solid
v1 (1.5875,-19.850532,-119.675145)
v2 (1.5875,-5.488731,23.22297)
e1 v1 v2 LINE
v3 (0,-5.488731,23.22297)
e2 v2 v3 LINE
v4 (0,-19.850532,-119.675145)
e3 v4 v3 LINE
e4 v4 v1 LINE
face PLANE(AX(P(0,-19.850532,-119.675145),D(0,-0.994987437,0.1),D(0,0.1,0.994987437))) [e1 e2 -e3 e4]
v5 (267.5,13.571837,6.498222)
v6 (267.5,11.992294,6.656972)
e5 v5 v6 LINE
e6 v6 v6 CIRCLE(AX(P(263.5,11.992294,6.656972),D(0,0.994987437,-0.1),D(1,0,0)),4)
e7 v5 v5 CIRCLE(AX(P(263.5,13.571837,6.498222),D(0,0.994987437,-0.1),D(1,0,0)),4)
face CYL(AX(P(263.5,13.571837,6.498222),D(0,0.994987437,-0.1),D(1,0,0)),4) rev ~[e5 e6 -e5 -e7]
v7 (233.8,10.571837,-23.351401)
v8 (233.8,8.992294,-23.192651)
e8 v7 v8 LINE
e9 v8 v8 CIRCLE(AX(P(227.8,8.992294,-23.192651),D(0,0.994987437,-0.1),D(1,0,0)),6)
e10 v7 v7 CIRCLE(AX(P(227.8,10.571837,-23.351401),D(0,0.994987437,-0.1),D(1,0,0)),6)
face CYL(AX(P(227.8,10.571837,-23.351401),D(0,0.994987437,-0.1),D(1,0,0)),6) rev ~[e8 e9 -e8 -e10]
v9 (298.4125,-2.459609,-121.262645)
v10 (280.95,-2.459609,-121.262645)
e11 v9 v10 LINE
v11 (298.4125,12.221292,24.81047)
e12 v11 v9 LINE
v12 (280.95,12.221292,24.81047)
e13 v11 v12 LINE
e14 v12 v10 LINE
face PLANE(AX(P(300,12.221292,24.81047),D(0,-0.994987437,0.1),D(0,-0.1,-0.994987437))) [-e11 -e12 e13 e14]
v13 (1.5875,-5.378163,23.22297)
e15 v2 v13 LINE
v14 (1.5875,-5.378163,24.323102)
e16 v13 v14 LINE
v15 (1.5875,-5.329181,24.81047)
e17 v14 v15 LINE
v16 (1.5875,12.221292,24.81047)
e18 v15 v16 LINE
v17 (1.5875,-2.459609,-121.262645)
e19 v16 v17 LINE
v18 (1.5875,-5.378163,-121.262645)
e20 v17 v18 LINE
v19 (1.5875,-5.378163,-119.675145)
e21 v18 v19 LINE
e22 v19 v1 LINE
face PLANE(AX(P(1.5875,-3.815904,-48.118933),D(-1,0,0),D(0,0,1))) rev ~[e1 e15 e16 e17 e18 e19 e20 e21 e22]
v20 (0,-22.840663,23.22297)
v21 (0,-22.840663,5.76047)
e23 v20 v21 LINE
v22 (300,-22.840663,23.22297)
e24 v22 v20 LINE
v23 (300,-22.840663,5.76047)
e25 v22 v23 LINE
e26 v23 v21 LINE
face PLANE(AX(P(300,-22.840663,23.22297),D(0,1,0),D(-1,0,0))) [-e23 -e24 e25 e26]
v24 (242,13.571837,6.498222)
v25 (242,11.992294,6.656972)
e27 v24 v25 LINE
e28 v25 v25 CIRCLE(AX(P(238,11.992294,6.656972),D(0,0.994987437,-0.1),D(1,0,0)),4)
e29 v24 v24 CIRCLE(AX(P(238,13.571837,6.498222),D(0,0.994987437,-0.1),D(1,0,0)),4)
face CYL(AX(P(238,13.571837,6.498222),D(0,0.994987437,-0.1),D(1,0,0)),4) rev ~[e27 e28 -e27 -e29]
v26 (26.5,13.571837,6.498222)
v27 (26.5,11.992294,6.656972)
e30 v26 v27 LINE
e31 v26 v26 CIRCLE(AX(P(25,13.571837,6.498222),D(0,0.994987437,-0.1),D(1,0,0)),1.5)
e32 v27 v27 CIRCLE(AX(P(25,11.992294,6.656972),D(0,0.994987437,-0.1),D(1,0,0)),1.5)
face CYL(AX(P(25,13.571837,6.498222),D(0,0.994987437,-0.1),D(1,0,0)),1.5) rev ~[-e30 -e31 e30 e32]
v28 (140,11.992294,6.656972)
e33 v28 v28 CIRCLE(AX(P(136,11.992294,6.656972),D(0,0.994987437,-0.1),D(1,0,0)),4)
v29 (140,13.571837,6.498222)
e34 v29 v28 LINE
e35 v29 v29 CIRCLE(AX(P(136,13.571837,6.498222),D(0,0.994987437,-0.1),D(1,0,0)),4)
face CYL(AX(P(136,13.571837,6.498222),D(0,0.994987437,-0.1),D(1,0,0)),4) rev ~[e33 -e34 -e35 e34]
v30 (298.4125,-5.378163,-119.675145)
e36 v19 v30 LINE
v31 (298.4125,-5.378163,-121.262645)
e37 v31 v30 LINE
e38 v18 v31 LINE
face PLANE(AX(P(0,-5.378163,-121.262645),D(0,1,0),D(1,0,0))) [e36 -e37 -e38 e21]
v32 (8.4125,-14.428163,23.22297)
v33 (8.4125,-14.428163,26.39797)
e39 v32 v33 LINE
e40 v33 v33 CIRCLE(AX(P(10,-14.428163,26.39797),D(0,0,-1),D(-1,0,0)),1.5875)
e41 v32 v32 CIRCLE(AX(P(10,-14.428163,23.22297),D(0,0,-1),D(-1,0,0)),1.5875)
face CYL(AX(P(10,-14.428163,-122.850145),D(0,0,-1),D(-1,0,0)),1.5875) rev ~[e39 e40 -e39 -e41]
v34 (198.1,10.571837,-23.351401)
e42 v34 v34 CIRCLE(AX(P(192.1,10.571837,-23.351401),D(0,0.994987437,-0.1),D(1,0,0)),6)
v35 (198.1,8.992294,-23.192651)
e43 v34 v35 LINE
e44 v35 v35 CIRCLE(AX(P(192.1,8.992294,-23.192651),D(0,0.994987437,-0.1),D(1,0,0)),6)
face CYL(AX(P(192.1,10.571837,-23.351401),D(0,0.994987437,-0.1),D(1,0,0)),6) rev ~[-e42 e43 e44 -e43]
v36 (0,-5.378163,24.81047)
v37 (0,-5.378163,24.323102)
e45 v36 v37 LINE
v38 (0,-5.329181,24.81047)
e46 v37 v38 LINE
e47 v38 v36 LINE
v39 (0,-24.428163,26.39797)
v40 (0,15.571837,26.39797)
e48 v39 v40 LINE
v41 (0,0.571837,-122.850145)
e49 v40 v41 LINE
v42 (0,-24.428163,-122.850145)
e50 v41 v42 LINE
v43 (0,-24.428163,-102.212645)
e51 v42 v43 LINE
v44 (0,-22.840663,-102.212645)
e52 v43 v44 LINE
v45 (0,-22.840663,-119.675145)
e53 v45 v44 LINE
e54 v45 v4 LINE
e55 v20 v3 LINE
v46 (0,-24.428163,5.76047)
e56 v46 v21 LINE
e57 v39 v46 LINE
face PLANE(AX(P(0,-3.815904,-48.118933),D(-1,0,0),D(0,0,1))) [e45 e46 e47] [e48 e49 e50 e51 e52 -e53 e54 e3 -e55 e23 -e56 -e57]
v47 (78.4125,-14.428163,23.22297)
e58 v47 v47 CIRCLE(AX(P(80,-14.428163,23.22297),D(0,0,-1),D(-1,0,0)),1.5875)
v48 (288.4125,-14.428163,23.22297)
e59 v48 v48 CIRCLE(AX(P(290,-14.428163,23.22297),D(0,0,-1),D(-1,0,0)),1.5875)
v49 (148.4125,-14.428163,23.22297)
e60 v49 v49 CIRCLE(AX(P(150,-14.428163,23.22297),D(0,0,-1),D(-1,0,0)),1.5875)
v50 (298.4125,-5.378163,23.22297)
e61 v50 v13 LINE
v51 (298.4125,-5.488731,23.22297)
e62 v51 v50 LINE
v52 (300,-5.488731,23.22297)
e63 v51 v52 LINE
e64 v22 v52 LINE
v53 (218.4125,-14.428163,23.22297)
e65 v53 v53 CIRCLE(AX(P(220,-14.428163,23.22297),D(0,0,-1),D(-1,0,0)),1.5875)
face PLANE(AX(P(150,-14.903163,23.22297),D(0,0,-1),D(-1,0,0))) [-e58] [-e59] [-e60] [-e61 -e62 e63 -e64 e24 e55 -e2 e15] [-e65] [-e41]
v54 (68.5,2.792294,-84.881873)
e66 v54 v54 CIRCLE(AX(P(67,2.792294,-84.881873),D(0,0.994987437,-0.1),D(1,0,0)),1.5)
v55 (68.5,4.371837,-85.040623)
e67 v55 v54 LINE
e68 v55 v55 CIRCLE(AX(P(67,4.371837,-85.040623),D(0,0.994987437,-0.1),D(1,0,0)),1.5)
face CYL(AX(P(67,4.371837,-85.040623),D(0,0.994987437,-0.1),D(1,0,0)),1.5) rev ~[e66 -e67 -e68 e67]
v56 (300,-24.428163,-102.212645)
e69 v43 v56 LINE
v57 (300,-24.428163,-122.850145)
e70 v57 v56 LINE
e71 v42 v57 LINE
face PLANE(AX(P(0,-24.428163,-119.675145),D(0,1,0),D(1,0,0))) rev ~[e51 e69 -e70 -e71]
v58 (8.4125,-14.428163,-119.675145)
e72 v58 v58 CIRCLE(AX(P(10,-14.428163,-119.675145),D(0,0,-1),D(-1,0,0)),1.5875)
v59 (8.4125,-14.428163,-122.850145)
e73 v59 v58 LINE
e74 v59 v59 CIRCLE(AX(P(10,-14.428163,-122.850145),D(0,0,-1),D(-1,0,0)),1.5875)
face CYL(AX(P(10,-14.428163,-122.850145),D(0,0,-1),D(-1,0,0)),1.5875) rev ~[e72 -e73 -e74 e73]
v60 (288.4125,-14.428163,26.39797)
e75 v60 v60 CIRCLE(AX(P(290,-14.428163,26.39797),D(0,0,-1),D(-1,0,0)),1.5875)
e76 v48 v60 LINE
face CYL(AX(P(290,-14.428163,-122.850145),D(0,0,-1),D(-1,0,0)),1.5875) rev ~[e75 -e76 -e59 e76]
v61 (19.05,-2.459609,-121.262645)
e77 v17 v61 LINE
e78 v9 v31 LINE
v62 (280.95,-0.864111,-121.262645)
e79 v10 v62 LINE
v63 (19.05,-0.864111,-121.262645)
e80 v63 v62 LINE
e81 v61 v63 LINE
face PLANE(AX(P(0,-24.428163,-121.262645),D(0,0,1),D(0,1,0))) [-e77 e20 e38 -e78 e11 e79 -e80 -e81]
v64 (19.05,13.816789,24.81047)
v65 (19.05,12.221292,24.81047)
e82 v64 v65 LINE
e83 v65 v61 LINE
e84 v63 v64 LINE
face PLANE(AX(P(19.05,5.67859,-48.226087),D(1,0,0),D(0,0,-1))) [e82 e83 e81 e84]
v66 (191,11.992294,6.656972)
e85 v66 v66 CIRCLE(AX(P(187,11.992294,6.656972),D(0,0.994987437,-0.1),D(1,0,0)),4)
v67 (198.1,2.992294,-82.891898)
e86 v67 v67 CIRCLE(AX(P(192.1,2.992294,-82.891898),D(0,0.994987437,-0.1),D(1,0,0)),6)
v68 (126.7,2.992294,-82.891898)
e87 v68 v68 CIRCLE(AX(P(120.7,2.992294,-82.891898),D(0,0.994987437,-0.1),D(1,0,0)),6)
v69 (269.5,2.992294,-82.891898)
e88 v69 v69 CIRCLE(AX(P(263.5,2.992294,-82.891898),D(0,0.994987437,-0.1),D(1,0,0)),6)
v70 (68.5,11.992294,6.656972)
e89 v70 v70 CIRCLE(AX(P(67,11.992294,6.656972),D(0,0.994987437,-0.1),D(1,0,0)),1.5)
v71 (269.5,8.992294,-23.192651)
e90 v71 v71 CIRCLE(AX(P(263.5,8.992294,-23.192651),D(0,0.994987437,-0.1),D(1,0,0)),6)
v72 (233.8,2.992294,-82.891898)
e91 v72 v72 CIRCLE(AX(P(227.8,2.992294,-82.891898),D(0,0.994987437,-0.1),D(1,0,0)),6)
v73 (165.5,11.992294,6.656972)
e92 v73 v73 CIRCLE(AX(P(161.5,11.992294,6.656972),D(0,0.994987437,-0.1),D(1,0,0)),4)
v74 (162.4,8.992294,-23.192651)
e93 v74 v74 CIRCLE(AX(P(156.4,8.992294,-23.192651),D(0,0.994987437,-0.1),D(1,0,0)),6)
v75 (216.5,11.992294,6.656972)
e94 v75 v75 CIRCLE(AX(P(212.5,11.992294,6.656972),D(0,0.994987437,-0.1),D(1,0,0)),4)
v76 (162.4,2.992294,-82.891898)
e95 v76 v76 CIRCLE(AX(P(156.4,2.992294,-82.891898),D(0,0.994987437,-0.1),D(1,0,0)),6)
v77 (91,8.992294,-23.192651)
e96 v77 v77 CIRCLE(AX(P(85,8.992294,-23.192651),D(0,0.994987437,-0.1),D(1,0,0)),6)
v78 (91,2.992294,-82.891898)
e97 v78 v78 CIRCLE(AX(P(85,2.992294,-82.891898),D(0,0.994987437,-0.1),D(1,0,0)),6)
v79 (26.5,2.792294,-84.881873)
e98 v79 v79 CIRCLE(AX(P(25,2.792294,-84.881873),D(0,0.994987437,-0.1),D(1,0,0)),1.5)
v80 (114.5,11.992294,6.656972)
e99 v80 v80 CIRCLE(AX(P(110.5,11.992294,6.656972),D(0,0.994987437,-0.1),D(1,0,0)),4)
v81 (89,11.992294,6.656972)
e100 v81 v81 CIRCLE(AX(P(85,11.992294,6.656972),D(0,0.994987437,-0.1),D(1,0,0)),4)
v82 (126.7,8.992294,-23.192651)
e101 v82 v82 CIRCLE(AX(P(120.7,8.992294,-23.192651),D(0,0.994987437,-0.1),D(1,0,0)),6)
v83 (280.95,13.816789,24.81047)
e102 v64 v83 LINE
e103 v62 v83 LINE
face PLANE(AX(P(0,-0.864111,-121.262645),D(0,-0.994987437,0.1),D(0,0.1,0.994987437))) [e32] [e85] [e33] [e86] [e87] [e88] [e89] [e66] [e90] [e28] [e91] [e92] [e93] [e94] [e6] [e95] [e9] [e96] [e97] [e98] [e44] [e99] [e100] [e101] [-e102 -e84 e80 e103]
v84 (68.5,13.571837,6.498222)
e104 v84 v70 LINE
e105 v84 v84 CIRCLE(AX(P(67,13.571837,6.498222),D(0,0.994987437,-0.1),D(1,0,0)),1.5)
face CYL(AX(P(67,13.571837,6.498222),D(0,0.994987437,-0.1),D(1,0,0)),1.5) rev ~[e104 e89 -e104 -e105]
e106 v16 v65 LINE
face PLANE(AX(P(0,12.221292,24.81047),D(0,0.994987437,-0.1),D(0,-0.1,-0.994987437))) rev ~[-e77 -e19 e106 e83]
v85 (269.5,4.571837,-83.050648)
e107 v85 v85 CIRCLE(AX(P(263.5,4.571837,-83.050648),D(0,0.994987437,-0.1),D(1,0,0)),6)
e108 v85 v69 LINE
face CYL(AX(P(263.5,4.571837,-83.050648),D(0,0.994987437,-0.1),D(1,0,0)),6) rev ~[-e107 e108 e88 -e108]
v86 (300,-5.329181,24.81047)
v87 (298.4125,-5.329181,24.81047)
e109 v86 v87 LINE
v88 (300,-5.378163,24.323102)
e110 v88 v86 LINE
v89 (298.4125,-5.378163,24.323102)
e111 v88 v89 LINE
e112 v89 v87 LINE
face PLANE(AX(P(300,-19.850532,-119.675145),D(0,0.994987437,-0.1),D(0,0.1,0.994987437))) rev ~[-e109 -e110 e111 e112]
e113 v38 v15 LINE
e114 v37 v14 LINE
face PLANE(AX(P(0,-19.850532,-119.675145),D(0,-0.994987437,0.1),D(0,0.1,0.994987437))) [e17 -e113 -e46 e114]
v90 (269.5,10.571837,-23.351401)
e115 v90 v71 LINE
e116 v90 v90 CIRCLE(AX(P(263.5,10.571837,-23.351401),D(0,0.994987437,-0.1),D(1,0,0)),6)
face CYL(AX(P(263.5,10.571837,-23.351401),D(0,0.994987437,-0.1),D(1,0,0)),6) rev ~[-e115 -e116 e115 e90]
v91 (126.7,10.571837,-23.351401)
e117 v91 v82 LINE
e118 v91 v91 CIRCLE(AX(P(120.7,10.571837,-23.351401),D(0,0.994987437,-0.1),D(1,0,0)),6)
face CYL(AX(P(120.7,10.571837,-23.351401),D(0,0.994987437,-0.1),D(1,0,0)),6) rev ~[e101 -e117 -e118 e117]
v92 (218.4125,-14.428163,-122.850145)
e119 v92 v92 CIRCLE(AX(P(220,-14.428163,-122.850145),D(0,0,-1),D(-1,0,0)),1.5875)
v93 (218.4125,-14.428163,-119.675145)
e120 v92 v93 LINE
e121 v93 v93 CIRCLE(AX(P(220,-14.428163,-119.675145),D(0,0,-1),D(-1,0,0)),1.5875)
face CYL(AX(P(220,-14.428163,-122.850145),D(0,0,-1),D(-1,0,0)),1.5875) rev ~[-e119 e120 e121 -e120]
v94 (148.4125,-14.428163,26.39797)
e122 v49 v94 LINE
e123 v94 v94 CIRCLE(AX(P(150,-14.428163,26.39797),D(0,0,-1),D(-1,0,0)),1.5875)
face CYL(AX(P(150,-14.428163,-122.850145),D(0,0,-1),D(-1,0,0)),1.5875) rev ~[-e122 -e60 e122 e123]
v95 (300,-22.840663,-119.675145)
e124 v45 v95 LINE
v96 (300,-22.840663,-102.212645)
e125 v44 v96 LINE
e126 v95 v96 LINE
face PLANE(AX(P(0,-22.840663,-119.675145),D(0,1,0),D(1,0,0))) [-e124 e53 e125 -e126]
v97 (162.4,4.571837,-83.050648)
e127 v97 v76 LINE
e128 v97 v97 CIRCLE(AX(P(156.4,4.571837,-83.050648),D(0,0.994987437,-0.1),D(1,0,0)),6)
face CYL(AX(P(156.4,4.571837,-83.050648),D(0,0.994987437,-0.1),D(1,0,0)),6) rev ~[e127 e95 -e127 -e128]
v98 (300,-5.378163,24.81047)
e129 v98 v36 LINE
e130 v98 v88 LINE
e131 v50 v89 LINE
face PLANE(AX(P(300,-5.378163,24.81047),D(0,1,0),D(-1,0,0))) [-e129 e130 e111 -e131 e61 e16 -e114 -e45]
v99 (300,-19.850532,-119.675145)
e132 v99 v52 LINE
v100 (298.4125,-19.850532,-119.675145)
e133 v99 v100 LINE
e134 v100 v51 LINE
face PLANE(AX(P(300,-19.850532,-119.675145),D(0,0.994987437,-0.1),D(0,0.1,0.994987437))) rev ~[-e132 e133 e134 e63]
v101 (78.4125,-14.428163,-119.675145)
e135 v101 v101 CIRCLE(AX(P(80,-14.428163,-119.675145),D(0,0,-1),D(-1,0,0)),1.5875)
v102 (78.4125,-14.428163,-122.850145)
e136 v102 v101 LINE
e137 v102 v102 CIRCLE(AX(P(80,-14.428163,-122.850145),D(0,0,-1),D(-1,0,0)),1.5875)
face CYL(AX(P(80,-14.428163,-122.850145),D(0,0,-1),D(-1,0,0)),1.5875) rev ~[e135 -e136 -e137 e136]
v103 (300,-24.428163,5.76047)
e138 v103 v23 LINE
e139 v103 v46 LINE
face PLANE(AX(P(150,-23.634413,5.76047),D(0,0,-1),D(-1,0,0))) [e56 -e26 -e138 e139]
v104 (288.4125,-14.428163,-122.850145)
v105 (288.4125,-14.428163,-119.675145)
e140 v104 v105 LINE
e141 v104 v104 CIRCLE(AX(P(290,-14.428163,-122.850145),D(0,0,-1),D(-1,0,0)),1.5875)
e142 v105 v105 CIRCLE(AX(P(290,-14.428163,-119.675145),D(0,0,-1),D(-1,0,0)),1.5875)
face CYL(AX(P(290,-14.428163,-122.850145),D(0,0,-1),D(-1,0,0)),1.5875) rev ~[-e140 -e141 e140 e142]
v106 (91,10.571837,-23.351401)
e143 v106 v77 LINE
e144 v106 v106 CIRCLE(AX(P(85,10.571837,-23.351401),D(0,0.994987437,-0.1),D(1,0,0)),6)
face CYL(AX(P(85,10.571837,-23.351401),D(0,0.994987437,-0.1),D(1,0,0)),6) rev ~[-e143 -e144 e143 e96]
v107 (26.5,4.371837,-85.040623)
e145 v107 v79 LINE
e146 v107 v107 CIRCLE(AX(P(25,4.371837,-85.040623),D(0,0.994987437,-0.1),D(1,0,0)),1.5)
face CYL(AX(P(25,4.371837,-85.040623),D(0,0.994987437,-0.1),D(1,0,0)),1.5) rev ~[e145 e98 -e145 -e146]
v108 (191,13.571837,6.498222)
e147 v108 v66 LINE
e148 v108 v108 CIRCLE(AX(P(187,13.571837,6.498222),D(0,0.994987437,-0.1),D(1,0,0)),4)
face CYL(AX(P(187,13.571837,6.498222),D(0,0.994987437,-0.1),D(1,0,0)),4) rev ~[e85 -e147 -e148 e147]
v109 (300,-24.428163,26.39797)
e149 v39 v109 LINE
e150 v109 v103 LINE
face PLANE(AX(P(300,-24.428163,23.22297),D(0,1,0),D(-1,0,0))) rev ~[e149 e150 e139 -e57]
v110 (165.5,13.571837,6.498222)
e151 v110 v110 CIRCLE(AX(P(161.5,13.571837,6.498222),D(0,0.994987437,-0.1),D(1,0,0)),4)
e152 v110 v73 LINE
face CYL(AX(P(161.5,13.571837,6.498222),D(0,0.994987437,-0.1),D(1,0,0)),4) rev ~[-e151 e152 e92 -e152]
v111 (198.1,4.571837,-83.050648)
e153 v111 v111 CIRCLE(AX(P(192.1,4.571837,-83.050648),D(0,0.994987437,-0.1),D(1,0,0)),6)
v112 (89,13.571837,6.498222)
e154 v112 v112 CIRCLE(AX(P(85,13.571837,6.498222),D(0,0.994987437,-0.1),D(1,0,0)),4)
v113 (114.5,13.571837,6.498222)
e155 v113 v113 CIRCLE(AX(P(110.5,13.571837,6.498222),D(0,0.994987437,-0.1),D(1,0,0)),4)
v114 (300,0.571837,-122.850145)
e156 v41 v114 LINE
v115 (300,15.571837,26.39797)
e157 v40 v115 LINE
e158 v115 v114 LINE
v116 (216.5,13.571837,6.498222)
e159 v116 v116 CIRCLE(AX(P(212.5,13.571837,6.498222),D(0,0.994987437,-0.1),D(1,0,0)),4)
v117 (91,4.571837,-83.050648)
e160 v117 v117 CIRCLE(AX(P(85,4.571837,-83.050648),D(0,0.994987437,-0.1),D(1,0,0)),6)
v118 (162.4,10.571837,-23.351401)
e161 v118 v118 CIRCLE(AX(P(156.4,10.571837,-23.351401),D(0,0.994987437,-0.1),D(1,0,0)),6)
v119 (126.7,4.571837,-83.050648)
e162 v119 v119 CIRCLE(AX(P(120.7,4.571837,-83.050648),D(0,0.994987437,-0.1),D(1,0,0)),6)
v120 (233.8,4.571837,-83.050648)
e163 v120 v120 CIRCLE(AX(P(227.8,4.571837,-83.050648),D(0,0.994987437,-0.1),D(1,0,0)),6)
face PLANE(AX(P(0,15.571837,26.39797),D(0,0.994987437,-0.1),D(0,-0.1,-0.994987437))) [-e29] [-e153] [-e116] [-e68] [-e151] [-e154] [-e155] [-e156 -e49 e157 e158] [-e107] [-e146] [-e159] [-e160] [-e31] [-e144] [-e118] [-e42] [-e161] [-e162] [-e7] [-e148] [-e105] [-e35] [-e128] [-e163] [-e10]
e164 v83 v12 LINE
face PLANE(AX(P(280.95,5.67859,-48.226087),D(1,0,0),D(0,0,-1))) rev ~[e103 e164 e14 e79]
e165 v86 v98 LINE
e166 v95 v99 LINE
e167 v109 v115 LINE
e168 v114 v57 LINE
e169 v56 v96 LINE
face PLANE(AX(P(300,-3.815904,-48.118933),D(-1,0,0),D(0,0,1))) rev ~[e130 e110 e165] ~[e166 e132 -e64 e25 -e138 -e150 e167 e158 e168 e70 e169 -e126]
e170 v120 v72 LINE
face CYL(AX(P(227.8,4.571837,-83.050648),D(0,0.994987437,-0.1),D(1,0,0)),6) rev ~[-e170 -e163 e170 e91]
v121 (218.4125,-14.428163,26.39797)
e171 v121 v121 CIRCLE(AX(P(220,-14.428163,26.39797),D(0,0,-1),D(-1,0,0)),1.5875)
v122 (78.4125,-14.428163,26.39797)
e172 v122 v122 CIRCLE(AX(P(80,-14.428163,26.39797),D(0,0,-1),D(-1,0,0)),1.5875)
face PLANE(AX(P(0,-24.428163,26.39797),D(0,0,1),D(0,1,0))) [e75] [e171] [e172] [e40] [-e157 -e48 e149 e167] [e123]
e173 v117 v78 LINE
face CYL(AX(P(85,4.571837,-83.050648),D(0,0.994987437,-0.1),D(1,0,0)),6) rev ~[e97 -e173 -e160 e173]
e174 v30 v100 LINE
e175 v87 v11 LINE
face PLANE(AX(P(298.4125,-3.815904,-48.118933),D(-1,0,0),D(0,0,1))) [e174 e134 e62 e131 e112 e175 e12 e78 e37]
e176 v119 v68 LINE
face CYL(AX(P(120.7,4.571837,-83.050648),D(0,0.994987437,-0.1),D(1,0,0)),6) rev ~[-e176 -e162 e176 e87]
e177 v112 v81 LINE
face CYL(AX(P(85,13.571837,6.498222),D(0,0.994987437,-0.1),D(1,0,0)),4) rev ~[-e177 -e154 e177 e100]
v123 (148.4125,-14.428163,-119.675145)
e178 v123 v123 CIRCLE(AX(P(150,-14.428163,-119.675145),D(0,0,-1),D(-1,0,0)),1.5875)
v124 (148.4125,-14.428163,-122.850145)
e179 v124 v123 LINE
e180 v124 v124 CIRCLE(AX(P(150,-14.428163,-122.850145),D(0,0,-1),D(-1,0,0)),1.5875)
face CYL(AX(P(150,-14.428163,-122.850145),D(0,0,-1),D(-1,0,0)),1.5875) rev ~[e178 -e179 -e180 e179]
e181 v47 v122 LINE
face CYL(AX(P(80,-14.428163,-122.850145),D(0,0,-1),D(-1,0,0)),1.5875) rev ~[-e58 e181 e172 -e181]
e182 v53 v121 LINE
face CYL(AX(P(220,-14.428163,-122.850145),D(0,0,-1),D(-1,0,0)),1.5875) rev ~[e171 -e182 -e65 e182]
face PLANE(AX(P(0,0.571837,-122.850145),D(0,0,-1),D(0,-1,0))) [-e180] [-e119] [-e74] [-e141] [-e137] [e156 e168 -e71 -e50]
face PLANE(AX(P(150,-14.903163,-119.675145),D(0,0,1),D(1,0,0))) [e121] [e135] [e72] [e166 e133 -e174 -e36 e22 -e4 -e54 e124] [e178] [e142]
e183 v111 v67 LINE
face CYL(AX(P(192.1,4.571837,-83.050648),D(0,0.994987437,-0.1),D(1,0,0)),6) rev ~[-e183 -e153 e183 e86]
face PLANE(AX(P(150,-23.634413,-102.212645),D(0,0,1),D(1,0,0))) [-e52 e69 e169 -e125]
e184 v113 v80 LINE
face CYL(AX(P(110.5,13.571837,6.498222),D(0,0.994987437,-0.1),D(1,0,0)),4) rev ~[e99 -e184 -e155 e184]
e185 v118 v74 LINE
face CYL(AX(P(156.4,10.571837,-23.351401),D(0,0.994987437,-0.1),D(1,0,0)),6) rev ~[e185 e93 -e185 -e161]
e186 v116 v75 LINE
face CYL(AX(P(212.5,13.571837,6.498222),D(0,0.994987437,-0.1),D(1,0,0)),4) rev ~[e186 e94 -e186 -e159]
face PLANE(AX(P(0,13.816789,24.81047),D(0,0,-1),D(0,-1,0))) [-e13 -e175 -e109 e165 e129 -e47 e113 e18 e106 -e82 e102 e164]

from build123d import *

# Parameters (mm, degrees)
BOSS_EXTRU_1_DEPTH      = 300
ESQUISSE3_W             = 300
ESQUISSE3_H             = 19.05
BOSS_EXTRU_2_DEPTH      = 1.5875
ESQUISSE4_W             = 300
ESQUISSE4_H             = 1.5875
BOSS_EXTRU_3_DEPTH      = 17.4625
ESQUISSE5_W             = 300
ESQUISSE5_H             = 19.05
BOSS_EXTRU_4_DEPTH      = 1.5875
ESQUISSE6_W             = 300
ESQUISSE6_H             = 1.5875
BOSS_EXTRU_5_DEPTH      = 17.4625
BOSS_EXTRU_6_DEPTH      = 19.05
BOSS_EXTRU_7_DEPTH      = 1.5875
BOSS_EXTRU_8_DEPTH      = 19.05
BOSS_EXTRU_9_DEPTH      = 1.5875
ESQUISSE12_R            = 1.5875
ENL_V_MAT_EXTRU_1_DEPTH = 150.248115566
ENL_V_MAT_EXTRU_2_REACH = 41.799
ESQUISSE13_R            = 4
ESQUISSE13_R_2          = 6
ESQUISSE13_R_3          = 1.5


with BuildPart() as part:
    # Esquisse1 → Boss.-Extru.1 (new body)
    with BuildSketch(Plane(origin=(0, 0, 0), x_dir=(0, 0, -1), z_dir=(1, 0, 0))):
        Polygon((-26.397970452, -24.428163497), (-26.397970452, 15.571836503), (122.850145114, 0.571836503), (122.850145114, -24.428163497), (121.262645114, -24.428163497), (121.262645114, -0.864111276), (-24.810470452, 13.816789218), (-24.810470452, -24.428163497), align=None)
    extrude(amount=BOSS_EXTRU_1_DEPTH)

    # Esquisse3 → Boss.-Extru.2 (add)
    with BuildSketch(Plane(origin=(0, 0, 24.810470452), x_dir=(-1, 0, 0), z_dir=(0, 0, -1))):
        with Locations((-150, -14.903163497)):
            Rectangle(ESQUISSE3_W, ESQUISSE3_H)
    extrude(amount=BOSS_EXTRU_2_DEPTH)

    # Esquisse4 → Boss.-Extru.3 (add)
    with BuildSketch(Plane(origin=(0, 0, 23.222970452), x_dir=(-1, 0, 0), z_dir=(0, 0, -1))):
        with Locations((-150, -23.634413497)):
            Rectangle(ESQUISSE4_W, ESQUISSE4_H)
    extrude(amount=BOSS_EXTRU_3_DEPTH)

    # Esquisse5 → Boss.-Extru.4 (add)
    with BuildSketch(Plane.XY.offset(-121.262645114)):
        with Locations((150, -14.903163497)):
            Rectangle(ESQUISSE5_W, ESQUISSE5_H)
    extrude(amount=BOSS_EXTRU_4_DEPTH)

    # Esquisse6 → Boss.-Extru.5 (add)
    with BuildSketch(Plane.XY.offset(-119.675145114)):
        with Locations((150, -23.634413497)):
            Rectangle(ESQUISSE6_W, ESQUISSE6_H)
    extrude(amount=BOSS_EXTRU_5_DEPTH)

    # Esquisse7 → Boss.-Extru.6 (add)
    with BuildSketch(Plane(origin=(300, 0, 0), x_dir=(0, 0, -1), z_dir=(1, 0, 0))):
        Polygon((-24.810470452, 13.816789218), (-24.810470452, 12.221291686), (121.262645114, -2.459608808), (121.262645114, -0.864111276), align=None)
    extrude(amount=-BOSS_EXTRU_6_DEPTH)

    # Esquisse8 → Boss.-Extru.7 (add)
    with BuildSketch(Plane(origin=(300, 0, 0), x_dir=(0, 0, -1), z_dir=(1, 0, 0))):
        Polygon((-24.810470452, 12.221291686), (121.262645114, -2.459608808), (121.262645114, -5.378163497), (119.675145114, -5.378163497), (119.675145114, -19.850531903), (-24.810470452, -5.329181163), align=None)
    extrude(amount=-BOSS_EXTRU_7_DEPTH)



with BuildPart() as body_2:
    # Esquisse9 → Boss.-Extru.8 (new body)
    with BuildSketch(Plane.ZY):
        Polygon((-121.262645114, -0.864111276), (24.810470452, 13.816789218), (24.810470452, 12.221291686), (-121.262645114, -2.459608808), align=None)
    extrude(amount=-BOSS_EXTRU_8_DEPTH)


with BuildPart() as part_1:
    add(part.part)

    add(body_2.part)  # Boss.-Extru.9 merges body 2
    # Esquisse11 → Boss.-Extru.9 (add)
    with BuildSketch(Plane.ZY):
        Polygon((-121.262645114, -2.459608808), (-121.262645114, -5.378163497), (-119.675145114, -5.378163497), (-119.675145114, -19.850531903), (24.810470452, -5.329181163), (24.810470452, 12.221291686), align=None)
    extrude(amount=-BOSS_EXTRU_9_DEPTH)

    # Esquisse12 → Enlèv. mat.-Extru.1 (cut, through all)
    with BuildSketch(Plane(origin=(0, 0, -122.850145114), x_dir=(-1, 0, 0), z_dir=(0, 0, -1))):
        with Locations((-290, -14.428163497)):
            Circle(ESQUISSE12_R)
        with Locations((-150, -14.428163497)):
            Circle(ESQUISSE12_R)
        with Locations((-10, -14.428163497)):
            Circle(ESQUISSE12_R)
        with Locations((-220, -14.428163497)):
            Circle(ESQUISSE12_R)
        with Locations((-80, -14.428163497)):
            Circle(ESQUISSE12_R)
    extrude(amount=-ENL_V_MAT_EXTRU_1_DEPTH, mode=Mode.SUBTRACT)

    # Esquisse13 → Enlèv. mat.-Extru.2 (cut, up to next)
    with BuildSketch(Plane(origin=(0, 12.789553241, -1.285398465), x_dir=(1, 0, 0), z_dir=(0, 0.994987437, -0.1)), mode=Mode.PRIVATE) as enl_v_mat_extru_2_sk1:
        with Locations((263.5, -7.822832615)):
            Circle(ESQUISSE13_R)
    enl_v_mat_extru_2_tool1 = extrude(enl_v_mat_extru_2_sk1.sketch, amount=-ENL_V_MAT_EXTRU_2_REACH, mode=Mode.PRIVATE) & part_1.part
    add(enl_v_mat_extru_2_tool1.solids().sort_by_distance((263.5, 13.571837, 6.498222))[0], mode=Mode.SUBTRACT)
    # Esquisse13 → Enlèv. mat.-Extru.2 (cut, up to next)
    with BuildSketch(Plane(origin=(0, 12.789553241, -1.285398465), x_dir=(1, 0, 0), z_dir=(0, 0.994987437, -0.1)), mode=Mode.PRIVATE) as enl_v_mat_extru_2_sk2:
        with Locations((238, -7.822832615)):
            Circle(ESQUISSE13_R)
    enl_v_mat_extru_2_tool2 = extrude(enl_v_mat_extru_2_sk2.sketch, amount=-ENL_V_MAT_EXTRU_2_REACH, mode=Mode.PRIVATE) & part_1.part
    add(enl_v_mat_extru_2_tool2.solids().sort_by_distance((238, 13.571837, 6.498222))[0], mode=Mode.SUBTRACT)
    # Esquisse13 → Enlèv. mat.-Extru.2 (cut, up to next)
    with BuildSketch(Plane(origin=(0, 12.789553241, -1.285398465), x_dir=(1, 0, 0), z_dir=(0, 0.994987437, -0.1)), mode=Mode.PRIVATE) as enl_v_mat_extru_2_sk3:
        with Locations((212.5, -7.822832615)):
            Circle(ESQUISSE13_R)
    enl_v_mat_extru_2_tool3 = extrude(enl_v_mat_extru_2_sk3.sketch, amount=-ENL_V_MAT_EXTRU_2_REACH, mode=Mode.PRIVATE) & part_1.part
    add(enl_v_mat_extru_2_tool3.solids().sort_by_distance((212.5, 13.571837, 6.498222))[0], mode=Mode.SUBTRACT)
    # Esquisse13 → Enlèv. mat.-Extru.2 (cut, up to next)
    with BuildSketch(Plane(origin=(0, 12.789553241, -1.285398465), x_dir=(1, 0, 0), z_dir=(0, 0.994987437, -0.1)), mode=Mode.PRIVATE) as enl_v_mat_extru_2_sk4:
        with Locations((187, -7.822832615)):
            Circle(ESQUISSE13_R)
    enl_v_mat_extru_2_tool4 = extrude(enl_v_mat_extru_2_sk4.sketch, amount=-ENL_V_MAT_EXTRU_2_REACH, mode=Mode.PRIVATE) & part_1.part
    add(enl_v_mat_extru_2_tool4.solids().sort_by_distance((187, 13.571837, 6.498222))[0], mode=Mode.SUBTRACT)
    # Esquisse13 → Enlèv. mat.-Extru.2 (cut, up to next)
    with BuildSketch(Plane(origin=(0, 12.789553241, -1.285398465), x_dir=(1, 0, 0), z_dir=(0, 0.994987437, -0.1)), mode=Mode.PRIVATE) as enl_v_mat_extru_2_sk5:
        with Locations((161.5, -7.822832615)):
            Circle(ESQUISSE13_R)
    enl_v_mat_extru_2_tool5 = extrude(enl_v_mat_extru_2_sk5.sketch, amount=-ENL_V_MAT_EXTRU_2_REACH, mode=Mode.PRIVATE) & part_1.part
    add(enl_v_mat_extru_2_tool5.solids().sort_by_distance((161.5, 13.571837, 6.498222))[0], mode=Mode.SUBTRACT)
    # Esquisse13 → Enlèv. mat.-Extru.2 (cut, up to next)
    with BuildSketch(Plane(origin=(0, 12.789553241, -1.285398465), x_dir=(1, 0, 0), z_dir=(0, 0.994987437, -0.1)), mode=Mode.PRIVATE) as enl_v_mat_extru_2_sk6:
        with Locations((136, -7.822832615)):
            Circle(ESQUISSE13_R)
    enl_v_mat_extru_2_tool6 = extrude(enl_v_mat_extru_2_sk6.sketch, amount=-ENL_V_MAT_EXTRU_2_REACH, mode=Mode.PRIVATE) & part_1.part
    add(enl_v_mat_extru_2_tool6.solids().sort_by_distance((136, 13.571837, 6.498222))[0], mode=Mode.SUBTRACT)
    # Esquisse13 → Enlèv. mat.-Extru.2 (cut, up to next)
    with BuildSketch(Plane(origin=(0, 12.789553241, -1.285398465), x_dir=(1, 0, 0), z_dir=(0, 0.994987437, -0.1)), mode=Mode.PRIVATE) as enl_v_mat_extru_2_sk7:
        with Locations((110.5, -7.822832615)):
            Circle(ESQUISSE13_R)
    enl_v_mat_extru_2_tool7 = extrude(enl_v_mat_extru_2_sk7.sketch, amount=-ENL_V_MAT_EXTRU_2_REACH, mode=Mode.PRIVATE) & part_1.part
    add(enl_v_mat_extru_2_tool7.solids().sort_by_distance((110.5, 13.571837, 6.498222))[0], mode=Mode.SUBTRACT)
    # Esquisse13 → Enlèv. mat.-Extru.2 (cut, up to next)
    with BuildSketch(Plane(origin=(0, 12.789553241, -1.285398465), x_dir=(1, 0, 0), z_dir=(0, 0.994987437, -0.1)), mode=Mode.PRIVATE) as enl_v_mat_extru_2_sk8:
        with Locations((85, -7.822832615)):
            Circle(ESQUISSE13_R)
    enl_v_mat_extru_2_tool8 = extrude(enl_v_mat_extru_2_sk8.sketch, amount=-ENL_V_MAT_EXTRU_2_REACH, mode=Mode.PRIVATE) & part_1.part
    add(enl_v_mat_extru_2_tool8.solids().sort_by_distance((85, 13.571837, 6.498222))[0], mode=Mode.SUBTRACT)
    # Esquisse13 → Enlèv. mat.-Extru.2 (cut, up to next)
    with BuildSketch(Plane(origin=(0, 12.789553241, -1.285398465), x_dir=(1, 0, 0), z_dir=(0, 0.994987437, -0.1)), mode=Mode.PRIVATE) as enl_v_mat_extru_2_sk9:
        with Locations((263.5, 22.177167385)):
            Circle(ESQUISSE13_R_2)
    enl_v_mat_extru_2_tool9 = extrude(enl_v_mat_extru_2_sk9.sketch, amount=-ENL_V_MAT_EXTRU_2_REACH, mode=Mode.PRIVATE) & part_1.part
    add(enl_v_mat_extru_2_tool9.solids().sort_by_distance((263.5, 10.571837, -23.351401))[0], mode=Mode.SUBTRACT)
    # Esquisse13 → Enlèv. mat.-Extru.2 (cut, up to next)
    with BuildSketch(Plane(origin=(0, 12.789553241, -1.285398465), x_dir=(1, 0, 0), z_dir=(0, 0.994987437, -0.1)), mode=Mode.PRIVATE) as enl_v_mat_extru_2_sk10:
        with Locations((227.8, 22.177167385)):
            Circle(ESQUISSE13_R_2)
    enl_v_mat_extru_2_tool10 = extrude(enl_v_mat_extru_2_sk10.sketch, amount=-ENL_V_MAT_EXTRU_2_REACH, mode=Mode.PRIVATE) & part_1.part
    add(enl_v_mat_extru_2_tool10.solids().sort_by_distance((227.8, 10.571837, -23.351401))[0], mode=Mode.SUBTRACT)
    # Esquisse13 → Enlèv. mat.-Extru.2 (cut, up to next)
    with BuildSketch(Plane(origin=(0, 12.789553241, -1.285398465), x_dir=(1, 0, 0), z_dir=(0, 0.994987437, -0.1)), mode=Mode.PRIVATE) as enl_v_mat_extru_2_sk11:
        with Locations((192.1, 22.177167385)):
            Circle(ESQUISSE13_R_2)
    enl_v_mat_extru_2_tool11 = extrude(enl_v_mat_extru_2_sk11.sketch, amount=-ENL_V_MAT_EXTRU_2_REACH, mode=Mode.PRIVATE) & part_1.part
    add(enl_v_mat_extru_2_tool11.solids().sort_by_distance((192.1, 10.571837, -23.351401))[0], mode=Mode.SUBTRACT)
    # Esquisse13 → Enlèv. mat.-Extru.2 (cut, up to next)
    with BuildSketch(Plane(origin=(0, 12.789553241, -1.285398465), x_dir=(1, 0, 0), z_dir=(0, 0.994987437, -0.1)), mode=Mode.PRIVATE) as enl_v_mat_extru_2_sk12:
        with Locations((156.4, 22.177167385)):
            Circle(ESQUISSE13_R_2)
    enl_v_mat_extru_2_tool12 = extrude(enl_v_mat_extru_2_sk12.sketch, amount=-ENL_V_MAT_EXTRU_2_REACH, mode=Mode.PRIVATE) & part_1.part
    add(enl_v_mat_extru_2_tool12.solids().sort_by_distance((156.4, 10.571837, -23.351401))[0], mode=Mode.SUBTRACT)
    # Esquisse13 → Enlèv. mat.-Extru.2 (cut, up to next)
    with BuildSketch(Plane(origin=(0, 12.789553241, -1.285398465), x_dir=(1, 0, 0), z_dir=(0, 0.994987437, -0.1)), mode=Mode.PRIVATE) as enl_v_mat_extru_2_sk13:
        with Locations((120.7, 22.177167385)):
            Circle(ESQUISSE13_R_2)
    enl_v_mat_extru_2_tool13 = extrude(enl_v_mat_extru_2_sk13.sketch, amount=-ENL_V_MAT_EXTRU_2_REACH, mode=Mode.PRIVATE) & part_1.part
    add(enl_v_mat_extru_2_tool13.solids().sort_by_distance((120.7, 10.571837, -23.351401))[0], mode=Mode.SUBTRACT)
    # Esquisse13 → Enlèv. mat.-Extru.2 (cut, up to next)
    with BuildSketch(Plane(origin=(0, 12.789553241, -1.285398465), x_dir=(1, 0, 0), z_dir=(0, 0.994987437, -0.1)), mode=Mode.PRIVATE) as enl_v_mat_extru_2_sk14:
        with Locations((85, 22.177167385)):
            Circle(ESQUISSE13_R_2)
    enl_v_mat_extru_2_tool14 = extrude(enl_v_mat_extru_2_sk14.sketch, amount=-ENL_V_MAT_EXTRU_2_REACH, mode=Mode.PRIVATE) & part_1.part
    add(enl_v_mat_extru_2_tool14.solids().sort_by_distance((85, 10.571837, -23.351401))[0], mode=Mode.SUBTRACT)
    # Esquisse13 → Enlèv. mat.-Extru.2 (cut, up to next)
    with BuildSketch(Plane(origin=(0, 12.789553241, -1.285398465), x_dir=(1, 0, 0), z_dir=(0, 0.994987437, -0.1)), mode=Mode.PRIVATE) as enl_v_mat_extru_2_sk15:
        with Locations((227.8, 82.177167385)):
            Circle(ESQUISSE13_R_2)
    enl_v_mat_extru_2_tool15 = extrude(enl_v_mat_extru_2_sk15.sketch, amount=-ENL_V_MAT_EXTRU_2_REACH, mode=Mode.PRIVATE) & part_1.part
    add(enl_v_mat_extru_2_tool15.solids().sort_by_distance((227.8, 4.571837, -83.050648))[0], mode=Mode.SUBTRACT)
    # Esquisse13 → Enlèv. mat.-Extru.2 (cut, up to next)
    with BuildSketch(Plane(origin=(0, 12.789553241, -1.285398465), x_dir=(1, 0, 0), z_dir=(0, 0.994987437, -0.1)), mode=Mode.PRIVATE) as enl_v_mat_extru_2_sk16:
        with Locations((192.1, 82.177167385)):
            Circle(ESQUISSE13_R_2)
    enl_v_mat_extru_2_tool16 = extrude(enl_v_mat_extru_2_sk16.sketch, amount=-ENL_V_MAT_EXTRU_2_REACH, mode=Mode.PRIVATE) & part_1.part
    add(enl_v_mat_extru_2_tool16.solids().sort_by_distance((192.1, 4.571837, -83.050648))[0], mode=Mode.SUBTRACT)
    # Esquisse13 → Enlèv. mat.-Extru.2 (cut, up to next)
    with BuildSketch(Plane(origin=(0, 12.789553241, -1.285398465), x_dir=(1, 0, 0), z_dir=(0, 0.994987437, -0.1)), mode=Mode.PRIVATE) as enl_v_mat_extru_2_sk17:
        with Locations((156.4, 82.177167385)):
            Circle(ESQUISSE13_R_2)
    enl_v_mat_extru_2_tool17 = extrude(enl_v_mat_extru_2_sk17.sketch, amount=-ENL_V_MAT_EXTRU_2_REACH, mode=Mode.PRIVATE) & part_1.part
    add(enl_v_mat_extru_2_tool17.solids().sort_by_distance((156.4, 4.571837, -83.050648))[0], mode=Mode.SUBTRACT)
    # Esquisse13 → Enlèv. mat.-Extru.2 (cut, up to next)
    with BuildSketch(Plane(origin=(0, 12.789553241, -1.285398465), x_dir=(1, 0, 0), z_dir=(0, 0.994987437, -0.1)), mode=Mode.PRIVATE) as enl_v_mat_extru_2_sk18:
        with Locations((120.7, 82.177167385)):
            Circle(ESQUISSE13_R_2)
    enl_v_mat_extru_2_tool18 = extrude(enl_v_mat_extru_2_sk18.sketch, amount=-ENL_V_MAT_EXTRU_2_REACH, mode=Mode.PRIVATE) & part_1.part
    add(enl_v_mat_extru_2_tool18.solids().sort_by_distance((120.7, 4.571837, -83.050648))[0], mode=Mode.SUBTRACT)
    # Esquisse13 → Enlèv. mat.-Extru.2 (cut, up to next)
    with BuildSketch(Plane(origin=(0, 12.789553241, -1.285398465), x_dir=(1, 0, 0), z_dir=(0, 0.994987437, -0.1)), mode=Mode.PRIVATE) as enl_v_mat_extru_2_sk19:
        with Locations((85, 82.177167385)):
            Circle(ESQUISSE13_R_2)
    enl_v_mat_extru_2_tool19 = extrude(enl_v_mat_extru_2_sk19.sketch, amount=-ENL_V_MAT_EXTRU_2_REACH, mode=Mode.PRIVATE) & part_1.part
    add(enl_v_mat_extru_2_tool19.solids().sort_by_distance((85, 4.571837, -83.050648))[0], mode=Mode.SUBTRACT)
    # Esquisse13 → Enlèv. mat.-Extru.2 (cut, up to next)
    with BuildSketch(Plane(origin=(0, 12.789553241, -1.285398465), x_dir=(1, 0, 0), z_dir=(0, 0.994987437, -0.1)), mode=Mode.PRIVATE) as enl_v_mat_extru_2_sk20:
        with Locations((263.5, 82.177167385)):
            Circle(ESQUISSE13_R_2)
    enl_v_mat_extru_2_tool20 = extrude(enl_v_mat_extru_2_sk20.sketch, amount=-ENL_V_MAT_EXTRU_2_REACH, mode=Mode.PRIVATE) & part_1.part
    add(enl_v_mat_extru_2_tool20.solids().sort_by_distance((263.5, 4.571837, -83.050648))[0], mode=Mode.SUBTRACT)
    # Esquisse13 → Enlèv. mat.-Extru.2 (cut, up to next)
    with BuildSketch(Plane(origin=(0, 12.789553241, -1.285398465), x_dir=(1, 0, 0), z_dir=(0, 0.994987437, -0.1)), mode=Mode.PRIVATE) as enl_v_mat_extru_2_sk21:
        with Locations((67, -7.822832615)):
            Circle(ESQUISSE13_R_3)
    enl_v_mat_extru_2_tool21 = extrude(enl_v_mat_extru_2_sk21.sketch, amount=-ENL_V_MAT_EXTRU_2_REACH, mode=Mode.PRIVATE) & part_1.part
    add(enl_v_mat_extru_2_tool21.solids().sort_by_distance((67, 13.571837, 6.498222))[0], mode=Mode.SUBTRACT)
    # Esquisse13 → Enlèv. mat.-Extru.2 (cut, up to next)
    with BuildSketch(Plane(origin=(0, 12.789553241, -1.285398465), x_dir=(1, 0, 0), z_dir=(0, 0.994987437, -0.1)), mode=Mode.PRIVATE) as enl_v_mat_extru_2_sk22:
        with Locations((25, -7.822832615)):
            Circle(ESQUISSE13_R_3)
    enl_v_mat_extru_2_tool22 = extrude(enl_v_mat_extru_2_sk22.sketch, amount=-ENL_V_MAT_EXTRU_2_REACH, mode=Mode.PRIVATE) & part_1.part
    add(enl_v_mat_extru_2_tool22.solids().sort_by_distance((25, 13.571837, 6.498222))[0], mode=Mode.SUBTRACT)
    # Esquisse13 → Enlèv. mat.-Extru.2 (cut, up to next)
    with BuildSketch(Plane(origin=(0, 12.789553241, -1.285398465), x_dir=(1, 0, 0), z_dir=(0, 0.994987437, -0.1)), mode=Mode.PRIVATE) as enl_v_mat_extru_2_sk23:
        with Locations((67, 84.177167385)):
            Circle(ESQUISSE13_R_3)
    enl_v_mat_extru_2_tool23 = extrude(enl_v_mat_extru_2_sk23.sketch, amount=-ENL_V_MAT_EXTRU_2_REACH, mode=Mode.PRIVATE) & part_1.part
    add(enl_v_mat_extru_2_tool23.solids().sort_by_distance((67, 4.371837, -85.040623))[0], mode=Mode.SUBTRACT)
    # Esquisse13 → Enlèv. mat.-Extru.2 (cut, up to next)
    with BuildSketch(Plane(origin=(0, 12.789553241, -1.285398465), x_dir=(1, 0, 0), z_dir=(0, 0.994987437, -0.1)), mode=Mode.PRIVATE) as enl_v_mat_extru_2_sk24:
        with Locations((25, 84.177167385)):
            Circle(ESQUISSE13_R_3)
    enl_v_mat_extru_2_tool24 = extrude(enl_v_mat_extru_2_sk24.sketch, amount=-ENL_V_MAT_EXTRU_2_REACH, mode=Mode.PRIVATE) & part_1.part
    add(enl_v_mat_extru_2_tool24.solids().sort_by_distance((25, 4.371837, -85.040623))[0], mode=Mode.SUBTRACT)


solid = part_1.part
